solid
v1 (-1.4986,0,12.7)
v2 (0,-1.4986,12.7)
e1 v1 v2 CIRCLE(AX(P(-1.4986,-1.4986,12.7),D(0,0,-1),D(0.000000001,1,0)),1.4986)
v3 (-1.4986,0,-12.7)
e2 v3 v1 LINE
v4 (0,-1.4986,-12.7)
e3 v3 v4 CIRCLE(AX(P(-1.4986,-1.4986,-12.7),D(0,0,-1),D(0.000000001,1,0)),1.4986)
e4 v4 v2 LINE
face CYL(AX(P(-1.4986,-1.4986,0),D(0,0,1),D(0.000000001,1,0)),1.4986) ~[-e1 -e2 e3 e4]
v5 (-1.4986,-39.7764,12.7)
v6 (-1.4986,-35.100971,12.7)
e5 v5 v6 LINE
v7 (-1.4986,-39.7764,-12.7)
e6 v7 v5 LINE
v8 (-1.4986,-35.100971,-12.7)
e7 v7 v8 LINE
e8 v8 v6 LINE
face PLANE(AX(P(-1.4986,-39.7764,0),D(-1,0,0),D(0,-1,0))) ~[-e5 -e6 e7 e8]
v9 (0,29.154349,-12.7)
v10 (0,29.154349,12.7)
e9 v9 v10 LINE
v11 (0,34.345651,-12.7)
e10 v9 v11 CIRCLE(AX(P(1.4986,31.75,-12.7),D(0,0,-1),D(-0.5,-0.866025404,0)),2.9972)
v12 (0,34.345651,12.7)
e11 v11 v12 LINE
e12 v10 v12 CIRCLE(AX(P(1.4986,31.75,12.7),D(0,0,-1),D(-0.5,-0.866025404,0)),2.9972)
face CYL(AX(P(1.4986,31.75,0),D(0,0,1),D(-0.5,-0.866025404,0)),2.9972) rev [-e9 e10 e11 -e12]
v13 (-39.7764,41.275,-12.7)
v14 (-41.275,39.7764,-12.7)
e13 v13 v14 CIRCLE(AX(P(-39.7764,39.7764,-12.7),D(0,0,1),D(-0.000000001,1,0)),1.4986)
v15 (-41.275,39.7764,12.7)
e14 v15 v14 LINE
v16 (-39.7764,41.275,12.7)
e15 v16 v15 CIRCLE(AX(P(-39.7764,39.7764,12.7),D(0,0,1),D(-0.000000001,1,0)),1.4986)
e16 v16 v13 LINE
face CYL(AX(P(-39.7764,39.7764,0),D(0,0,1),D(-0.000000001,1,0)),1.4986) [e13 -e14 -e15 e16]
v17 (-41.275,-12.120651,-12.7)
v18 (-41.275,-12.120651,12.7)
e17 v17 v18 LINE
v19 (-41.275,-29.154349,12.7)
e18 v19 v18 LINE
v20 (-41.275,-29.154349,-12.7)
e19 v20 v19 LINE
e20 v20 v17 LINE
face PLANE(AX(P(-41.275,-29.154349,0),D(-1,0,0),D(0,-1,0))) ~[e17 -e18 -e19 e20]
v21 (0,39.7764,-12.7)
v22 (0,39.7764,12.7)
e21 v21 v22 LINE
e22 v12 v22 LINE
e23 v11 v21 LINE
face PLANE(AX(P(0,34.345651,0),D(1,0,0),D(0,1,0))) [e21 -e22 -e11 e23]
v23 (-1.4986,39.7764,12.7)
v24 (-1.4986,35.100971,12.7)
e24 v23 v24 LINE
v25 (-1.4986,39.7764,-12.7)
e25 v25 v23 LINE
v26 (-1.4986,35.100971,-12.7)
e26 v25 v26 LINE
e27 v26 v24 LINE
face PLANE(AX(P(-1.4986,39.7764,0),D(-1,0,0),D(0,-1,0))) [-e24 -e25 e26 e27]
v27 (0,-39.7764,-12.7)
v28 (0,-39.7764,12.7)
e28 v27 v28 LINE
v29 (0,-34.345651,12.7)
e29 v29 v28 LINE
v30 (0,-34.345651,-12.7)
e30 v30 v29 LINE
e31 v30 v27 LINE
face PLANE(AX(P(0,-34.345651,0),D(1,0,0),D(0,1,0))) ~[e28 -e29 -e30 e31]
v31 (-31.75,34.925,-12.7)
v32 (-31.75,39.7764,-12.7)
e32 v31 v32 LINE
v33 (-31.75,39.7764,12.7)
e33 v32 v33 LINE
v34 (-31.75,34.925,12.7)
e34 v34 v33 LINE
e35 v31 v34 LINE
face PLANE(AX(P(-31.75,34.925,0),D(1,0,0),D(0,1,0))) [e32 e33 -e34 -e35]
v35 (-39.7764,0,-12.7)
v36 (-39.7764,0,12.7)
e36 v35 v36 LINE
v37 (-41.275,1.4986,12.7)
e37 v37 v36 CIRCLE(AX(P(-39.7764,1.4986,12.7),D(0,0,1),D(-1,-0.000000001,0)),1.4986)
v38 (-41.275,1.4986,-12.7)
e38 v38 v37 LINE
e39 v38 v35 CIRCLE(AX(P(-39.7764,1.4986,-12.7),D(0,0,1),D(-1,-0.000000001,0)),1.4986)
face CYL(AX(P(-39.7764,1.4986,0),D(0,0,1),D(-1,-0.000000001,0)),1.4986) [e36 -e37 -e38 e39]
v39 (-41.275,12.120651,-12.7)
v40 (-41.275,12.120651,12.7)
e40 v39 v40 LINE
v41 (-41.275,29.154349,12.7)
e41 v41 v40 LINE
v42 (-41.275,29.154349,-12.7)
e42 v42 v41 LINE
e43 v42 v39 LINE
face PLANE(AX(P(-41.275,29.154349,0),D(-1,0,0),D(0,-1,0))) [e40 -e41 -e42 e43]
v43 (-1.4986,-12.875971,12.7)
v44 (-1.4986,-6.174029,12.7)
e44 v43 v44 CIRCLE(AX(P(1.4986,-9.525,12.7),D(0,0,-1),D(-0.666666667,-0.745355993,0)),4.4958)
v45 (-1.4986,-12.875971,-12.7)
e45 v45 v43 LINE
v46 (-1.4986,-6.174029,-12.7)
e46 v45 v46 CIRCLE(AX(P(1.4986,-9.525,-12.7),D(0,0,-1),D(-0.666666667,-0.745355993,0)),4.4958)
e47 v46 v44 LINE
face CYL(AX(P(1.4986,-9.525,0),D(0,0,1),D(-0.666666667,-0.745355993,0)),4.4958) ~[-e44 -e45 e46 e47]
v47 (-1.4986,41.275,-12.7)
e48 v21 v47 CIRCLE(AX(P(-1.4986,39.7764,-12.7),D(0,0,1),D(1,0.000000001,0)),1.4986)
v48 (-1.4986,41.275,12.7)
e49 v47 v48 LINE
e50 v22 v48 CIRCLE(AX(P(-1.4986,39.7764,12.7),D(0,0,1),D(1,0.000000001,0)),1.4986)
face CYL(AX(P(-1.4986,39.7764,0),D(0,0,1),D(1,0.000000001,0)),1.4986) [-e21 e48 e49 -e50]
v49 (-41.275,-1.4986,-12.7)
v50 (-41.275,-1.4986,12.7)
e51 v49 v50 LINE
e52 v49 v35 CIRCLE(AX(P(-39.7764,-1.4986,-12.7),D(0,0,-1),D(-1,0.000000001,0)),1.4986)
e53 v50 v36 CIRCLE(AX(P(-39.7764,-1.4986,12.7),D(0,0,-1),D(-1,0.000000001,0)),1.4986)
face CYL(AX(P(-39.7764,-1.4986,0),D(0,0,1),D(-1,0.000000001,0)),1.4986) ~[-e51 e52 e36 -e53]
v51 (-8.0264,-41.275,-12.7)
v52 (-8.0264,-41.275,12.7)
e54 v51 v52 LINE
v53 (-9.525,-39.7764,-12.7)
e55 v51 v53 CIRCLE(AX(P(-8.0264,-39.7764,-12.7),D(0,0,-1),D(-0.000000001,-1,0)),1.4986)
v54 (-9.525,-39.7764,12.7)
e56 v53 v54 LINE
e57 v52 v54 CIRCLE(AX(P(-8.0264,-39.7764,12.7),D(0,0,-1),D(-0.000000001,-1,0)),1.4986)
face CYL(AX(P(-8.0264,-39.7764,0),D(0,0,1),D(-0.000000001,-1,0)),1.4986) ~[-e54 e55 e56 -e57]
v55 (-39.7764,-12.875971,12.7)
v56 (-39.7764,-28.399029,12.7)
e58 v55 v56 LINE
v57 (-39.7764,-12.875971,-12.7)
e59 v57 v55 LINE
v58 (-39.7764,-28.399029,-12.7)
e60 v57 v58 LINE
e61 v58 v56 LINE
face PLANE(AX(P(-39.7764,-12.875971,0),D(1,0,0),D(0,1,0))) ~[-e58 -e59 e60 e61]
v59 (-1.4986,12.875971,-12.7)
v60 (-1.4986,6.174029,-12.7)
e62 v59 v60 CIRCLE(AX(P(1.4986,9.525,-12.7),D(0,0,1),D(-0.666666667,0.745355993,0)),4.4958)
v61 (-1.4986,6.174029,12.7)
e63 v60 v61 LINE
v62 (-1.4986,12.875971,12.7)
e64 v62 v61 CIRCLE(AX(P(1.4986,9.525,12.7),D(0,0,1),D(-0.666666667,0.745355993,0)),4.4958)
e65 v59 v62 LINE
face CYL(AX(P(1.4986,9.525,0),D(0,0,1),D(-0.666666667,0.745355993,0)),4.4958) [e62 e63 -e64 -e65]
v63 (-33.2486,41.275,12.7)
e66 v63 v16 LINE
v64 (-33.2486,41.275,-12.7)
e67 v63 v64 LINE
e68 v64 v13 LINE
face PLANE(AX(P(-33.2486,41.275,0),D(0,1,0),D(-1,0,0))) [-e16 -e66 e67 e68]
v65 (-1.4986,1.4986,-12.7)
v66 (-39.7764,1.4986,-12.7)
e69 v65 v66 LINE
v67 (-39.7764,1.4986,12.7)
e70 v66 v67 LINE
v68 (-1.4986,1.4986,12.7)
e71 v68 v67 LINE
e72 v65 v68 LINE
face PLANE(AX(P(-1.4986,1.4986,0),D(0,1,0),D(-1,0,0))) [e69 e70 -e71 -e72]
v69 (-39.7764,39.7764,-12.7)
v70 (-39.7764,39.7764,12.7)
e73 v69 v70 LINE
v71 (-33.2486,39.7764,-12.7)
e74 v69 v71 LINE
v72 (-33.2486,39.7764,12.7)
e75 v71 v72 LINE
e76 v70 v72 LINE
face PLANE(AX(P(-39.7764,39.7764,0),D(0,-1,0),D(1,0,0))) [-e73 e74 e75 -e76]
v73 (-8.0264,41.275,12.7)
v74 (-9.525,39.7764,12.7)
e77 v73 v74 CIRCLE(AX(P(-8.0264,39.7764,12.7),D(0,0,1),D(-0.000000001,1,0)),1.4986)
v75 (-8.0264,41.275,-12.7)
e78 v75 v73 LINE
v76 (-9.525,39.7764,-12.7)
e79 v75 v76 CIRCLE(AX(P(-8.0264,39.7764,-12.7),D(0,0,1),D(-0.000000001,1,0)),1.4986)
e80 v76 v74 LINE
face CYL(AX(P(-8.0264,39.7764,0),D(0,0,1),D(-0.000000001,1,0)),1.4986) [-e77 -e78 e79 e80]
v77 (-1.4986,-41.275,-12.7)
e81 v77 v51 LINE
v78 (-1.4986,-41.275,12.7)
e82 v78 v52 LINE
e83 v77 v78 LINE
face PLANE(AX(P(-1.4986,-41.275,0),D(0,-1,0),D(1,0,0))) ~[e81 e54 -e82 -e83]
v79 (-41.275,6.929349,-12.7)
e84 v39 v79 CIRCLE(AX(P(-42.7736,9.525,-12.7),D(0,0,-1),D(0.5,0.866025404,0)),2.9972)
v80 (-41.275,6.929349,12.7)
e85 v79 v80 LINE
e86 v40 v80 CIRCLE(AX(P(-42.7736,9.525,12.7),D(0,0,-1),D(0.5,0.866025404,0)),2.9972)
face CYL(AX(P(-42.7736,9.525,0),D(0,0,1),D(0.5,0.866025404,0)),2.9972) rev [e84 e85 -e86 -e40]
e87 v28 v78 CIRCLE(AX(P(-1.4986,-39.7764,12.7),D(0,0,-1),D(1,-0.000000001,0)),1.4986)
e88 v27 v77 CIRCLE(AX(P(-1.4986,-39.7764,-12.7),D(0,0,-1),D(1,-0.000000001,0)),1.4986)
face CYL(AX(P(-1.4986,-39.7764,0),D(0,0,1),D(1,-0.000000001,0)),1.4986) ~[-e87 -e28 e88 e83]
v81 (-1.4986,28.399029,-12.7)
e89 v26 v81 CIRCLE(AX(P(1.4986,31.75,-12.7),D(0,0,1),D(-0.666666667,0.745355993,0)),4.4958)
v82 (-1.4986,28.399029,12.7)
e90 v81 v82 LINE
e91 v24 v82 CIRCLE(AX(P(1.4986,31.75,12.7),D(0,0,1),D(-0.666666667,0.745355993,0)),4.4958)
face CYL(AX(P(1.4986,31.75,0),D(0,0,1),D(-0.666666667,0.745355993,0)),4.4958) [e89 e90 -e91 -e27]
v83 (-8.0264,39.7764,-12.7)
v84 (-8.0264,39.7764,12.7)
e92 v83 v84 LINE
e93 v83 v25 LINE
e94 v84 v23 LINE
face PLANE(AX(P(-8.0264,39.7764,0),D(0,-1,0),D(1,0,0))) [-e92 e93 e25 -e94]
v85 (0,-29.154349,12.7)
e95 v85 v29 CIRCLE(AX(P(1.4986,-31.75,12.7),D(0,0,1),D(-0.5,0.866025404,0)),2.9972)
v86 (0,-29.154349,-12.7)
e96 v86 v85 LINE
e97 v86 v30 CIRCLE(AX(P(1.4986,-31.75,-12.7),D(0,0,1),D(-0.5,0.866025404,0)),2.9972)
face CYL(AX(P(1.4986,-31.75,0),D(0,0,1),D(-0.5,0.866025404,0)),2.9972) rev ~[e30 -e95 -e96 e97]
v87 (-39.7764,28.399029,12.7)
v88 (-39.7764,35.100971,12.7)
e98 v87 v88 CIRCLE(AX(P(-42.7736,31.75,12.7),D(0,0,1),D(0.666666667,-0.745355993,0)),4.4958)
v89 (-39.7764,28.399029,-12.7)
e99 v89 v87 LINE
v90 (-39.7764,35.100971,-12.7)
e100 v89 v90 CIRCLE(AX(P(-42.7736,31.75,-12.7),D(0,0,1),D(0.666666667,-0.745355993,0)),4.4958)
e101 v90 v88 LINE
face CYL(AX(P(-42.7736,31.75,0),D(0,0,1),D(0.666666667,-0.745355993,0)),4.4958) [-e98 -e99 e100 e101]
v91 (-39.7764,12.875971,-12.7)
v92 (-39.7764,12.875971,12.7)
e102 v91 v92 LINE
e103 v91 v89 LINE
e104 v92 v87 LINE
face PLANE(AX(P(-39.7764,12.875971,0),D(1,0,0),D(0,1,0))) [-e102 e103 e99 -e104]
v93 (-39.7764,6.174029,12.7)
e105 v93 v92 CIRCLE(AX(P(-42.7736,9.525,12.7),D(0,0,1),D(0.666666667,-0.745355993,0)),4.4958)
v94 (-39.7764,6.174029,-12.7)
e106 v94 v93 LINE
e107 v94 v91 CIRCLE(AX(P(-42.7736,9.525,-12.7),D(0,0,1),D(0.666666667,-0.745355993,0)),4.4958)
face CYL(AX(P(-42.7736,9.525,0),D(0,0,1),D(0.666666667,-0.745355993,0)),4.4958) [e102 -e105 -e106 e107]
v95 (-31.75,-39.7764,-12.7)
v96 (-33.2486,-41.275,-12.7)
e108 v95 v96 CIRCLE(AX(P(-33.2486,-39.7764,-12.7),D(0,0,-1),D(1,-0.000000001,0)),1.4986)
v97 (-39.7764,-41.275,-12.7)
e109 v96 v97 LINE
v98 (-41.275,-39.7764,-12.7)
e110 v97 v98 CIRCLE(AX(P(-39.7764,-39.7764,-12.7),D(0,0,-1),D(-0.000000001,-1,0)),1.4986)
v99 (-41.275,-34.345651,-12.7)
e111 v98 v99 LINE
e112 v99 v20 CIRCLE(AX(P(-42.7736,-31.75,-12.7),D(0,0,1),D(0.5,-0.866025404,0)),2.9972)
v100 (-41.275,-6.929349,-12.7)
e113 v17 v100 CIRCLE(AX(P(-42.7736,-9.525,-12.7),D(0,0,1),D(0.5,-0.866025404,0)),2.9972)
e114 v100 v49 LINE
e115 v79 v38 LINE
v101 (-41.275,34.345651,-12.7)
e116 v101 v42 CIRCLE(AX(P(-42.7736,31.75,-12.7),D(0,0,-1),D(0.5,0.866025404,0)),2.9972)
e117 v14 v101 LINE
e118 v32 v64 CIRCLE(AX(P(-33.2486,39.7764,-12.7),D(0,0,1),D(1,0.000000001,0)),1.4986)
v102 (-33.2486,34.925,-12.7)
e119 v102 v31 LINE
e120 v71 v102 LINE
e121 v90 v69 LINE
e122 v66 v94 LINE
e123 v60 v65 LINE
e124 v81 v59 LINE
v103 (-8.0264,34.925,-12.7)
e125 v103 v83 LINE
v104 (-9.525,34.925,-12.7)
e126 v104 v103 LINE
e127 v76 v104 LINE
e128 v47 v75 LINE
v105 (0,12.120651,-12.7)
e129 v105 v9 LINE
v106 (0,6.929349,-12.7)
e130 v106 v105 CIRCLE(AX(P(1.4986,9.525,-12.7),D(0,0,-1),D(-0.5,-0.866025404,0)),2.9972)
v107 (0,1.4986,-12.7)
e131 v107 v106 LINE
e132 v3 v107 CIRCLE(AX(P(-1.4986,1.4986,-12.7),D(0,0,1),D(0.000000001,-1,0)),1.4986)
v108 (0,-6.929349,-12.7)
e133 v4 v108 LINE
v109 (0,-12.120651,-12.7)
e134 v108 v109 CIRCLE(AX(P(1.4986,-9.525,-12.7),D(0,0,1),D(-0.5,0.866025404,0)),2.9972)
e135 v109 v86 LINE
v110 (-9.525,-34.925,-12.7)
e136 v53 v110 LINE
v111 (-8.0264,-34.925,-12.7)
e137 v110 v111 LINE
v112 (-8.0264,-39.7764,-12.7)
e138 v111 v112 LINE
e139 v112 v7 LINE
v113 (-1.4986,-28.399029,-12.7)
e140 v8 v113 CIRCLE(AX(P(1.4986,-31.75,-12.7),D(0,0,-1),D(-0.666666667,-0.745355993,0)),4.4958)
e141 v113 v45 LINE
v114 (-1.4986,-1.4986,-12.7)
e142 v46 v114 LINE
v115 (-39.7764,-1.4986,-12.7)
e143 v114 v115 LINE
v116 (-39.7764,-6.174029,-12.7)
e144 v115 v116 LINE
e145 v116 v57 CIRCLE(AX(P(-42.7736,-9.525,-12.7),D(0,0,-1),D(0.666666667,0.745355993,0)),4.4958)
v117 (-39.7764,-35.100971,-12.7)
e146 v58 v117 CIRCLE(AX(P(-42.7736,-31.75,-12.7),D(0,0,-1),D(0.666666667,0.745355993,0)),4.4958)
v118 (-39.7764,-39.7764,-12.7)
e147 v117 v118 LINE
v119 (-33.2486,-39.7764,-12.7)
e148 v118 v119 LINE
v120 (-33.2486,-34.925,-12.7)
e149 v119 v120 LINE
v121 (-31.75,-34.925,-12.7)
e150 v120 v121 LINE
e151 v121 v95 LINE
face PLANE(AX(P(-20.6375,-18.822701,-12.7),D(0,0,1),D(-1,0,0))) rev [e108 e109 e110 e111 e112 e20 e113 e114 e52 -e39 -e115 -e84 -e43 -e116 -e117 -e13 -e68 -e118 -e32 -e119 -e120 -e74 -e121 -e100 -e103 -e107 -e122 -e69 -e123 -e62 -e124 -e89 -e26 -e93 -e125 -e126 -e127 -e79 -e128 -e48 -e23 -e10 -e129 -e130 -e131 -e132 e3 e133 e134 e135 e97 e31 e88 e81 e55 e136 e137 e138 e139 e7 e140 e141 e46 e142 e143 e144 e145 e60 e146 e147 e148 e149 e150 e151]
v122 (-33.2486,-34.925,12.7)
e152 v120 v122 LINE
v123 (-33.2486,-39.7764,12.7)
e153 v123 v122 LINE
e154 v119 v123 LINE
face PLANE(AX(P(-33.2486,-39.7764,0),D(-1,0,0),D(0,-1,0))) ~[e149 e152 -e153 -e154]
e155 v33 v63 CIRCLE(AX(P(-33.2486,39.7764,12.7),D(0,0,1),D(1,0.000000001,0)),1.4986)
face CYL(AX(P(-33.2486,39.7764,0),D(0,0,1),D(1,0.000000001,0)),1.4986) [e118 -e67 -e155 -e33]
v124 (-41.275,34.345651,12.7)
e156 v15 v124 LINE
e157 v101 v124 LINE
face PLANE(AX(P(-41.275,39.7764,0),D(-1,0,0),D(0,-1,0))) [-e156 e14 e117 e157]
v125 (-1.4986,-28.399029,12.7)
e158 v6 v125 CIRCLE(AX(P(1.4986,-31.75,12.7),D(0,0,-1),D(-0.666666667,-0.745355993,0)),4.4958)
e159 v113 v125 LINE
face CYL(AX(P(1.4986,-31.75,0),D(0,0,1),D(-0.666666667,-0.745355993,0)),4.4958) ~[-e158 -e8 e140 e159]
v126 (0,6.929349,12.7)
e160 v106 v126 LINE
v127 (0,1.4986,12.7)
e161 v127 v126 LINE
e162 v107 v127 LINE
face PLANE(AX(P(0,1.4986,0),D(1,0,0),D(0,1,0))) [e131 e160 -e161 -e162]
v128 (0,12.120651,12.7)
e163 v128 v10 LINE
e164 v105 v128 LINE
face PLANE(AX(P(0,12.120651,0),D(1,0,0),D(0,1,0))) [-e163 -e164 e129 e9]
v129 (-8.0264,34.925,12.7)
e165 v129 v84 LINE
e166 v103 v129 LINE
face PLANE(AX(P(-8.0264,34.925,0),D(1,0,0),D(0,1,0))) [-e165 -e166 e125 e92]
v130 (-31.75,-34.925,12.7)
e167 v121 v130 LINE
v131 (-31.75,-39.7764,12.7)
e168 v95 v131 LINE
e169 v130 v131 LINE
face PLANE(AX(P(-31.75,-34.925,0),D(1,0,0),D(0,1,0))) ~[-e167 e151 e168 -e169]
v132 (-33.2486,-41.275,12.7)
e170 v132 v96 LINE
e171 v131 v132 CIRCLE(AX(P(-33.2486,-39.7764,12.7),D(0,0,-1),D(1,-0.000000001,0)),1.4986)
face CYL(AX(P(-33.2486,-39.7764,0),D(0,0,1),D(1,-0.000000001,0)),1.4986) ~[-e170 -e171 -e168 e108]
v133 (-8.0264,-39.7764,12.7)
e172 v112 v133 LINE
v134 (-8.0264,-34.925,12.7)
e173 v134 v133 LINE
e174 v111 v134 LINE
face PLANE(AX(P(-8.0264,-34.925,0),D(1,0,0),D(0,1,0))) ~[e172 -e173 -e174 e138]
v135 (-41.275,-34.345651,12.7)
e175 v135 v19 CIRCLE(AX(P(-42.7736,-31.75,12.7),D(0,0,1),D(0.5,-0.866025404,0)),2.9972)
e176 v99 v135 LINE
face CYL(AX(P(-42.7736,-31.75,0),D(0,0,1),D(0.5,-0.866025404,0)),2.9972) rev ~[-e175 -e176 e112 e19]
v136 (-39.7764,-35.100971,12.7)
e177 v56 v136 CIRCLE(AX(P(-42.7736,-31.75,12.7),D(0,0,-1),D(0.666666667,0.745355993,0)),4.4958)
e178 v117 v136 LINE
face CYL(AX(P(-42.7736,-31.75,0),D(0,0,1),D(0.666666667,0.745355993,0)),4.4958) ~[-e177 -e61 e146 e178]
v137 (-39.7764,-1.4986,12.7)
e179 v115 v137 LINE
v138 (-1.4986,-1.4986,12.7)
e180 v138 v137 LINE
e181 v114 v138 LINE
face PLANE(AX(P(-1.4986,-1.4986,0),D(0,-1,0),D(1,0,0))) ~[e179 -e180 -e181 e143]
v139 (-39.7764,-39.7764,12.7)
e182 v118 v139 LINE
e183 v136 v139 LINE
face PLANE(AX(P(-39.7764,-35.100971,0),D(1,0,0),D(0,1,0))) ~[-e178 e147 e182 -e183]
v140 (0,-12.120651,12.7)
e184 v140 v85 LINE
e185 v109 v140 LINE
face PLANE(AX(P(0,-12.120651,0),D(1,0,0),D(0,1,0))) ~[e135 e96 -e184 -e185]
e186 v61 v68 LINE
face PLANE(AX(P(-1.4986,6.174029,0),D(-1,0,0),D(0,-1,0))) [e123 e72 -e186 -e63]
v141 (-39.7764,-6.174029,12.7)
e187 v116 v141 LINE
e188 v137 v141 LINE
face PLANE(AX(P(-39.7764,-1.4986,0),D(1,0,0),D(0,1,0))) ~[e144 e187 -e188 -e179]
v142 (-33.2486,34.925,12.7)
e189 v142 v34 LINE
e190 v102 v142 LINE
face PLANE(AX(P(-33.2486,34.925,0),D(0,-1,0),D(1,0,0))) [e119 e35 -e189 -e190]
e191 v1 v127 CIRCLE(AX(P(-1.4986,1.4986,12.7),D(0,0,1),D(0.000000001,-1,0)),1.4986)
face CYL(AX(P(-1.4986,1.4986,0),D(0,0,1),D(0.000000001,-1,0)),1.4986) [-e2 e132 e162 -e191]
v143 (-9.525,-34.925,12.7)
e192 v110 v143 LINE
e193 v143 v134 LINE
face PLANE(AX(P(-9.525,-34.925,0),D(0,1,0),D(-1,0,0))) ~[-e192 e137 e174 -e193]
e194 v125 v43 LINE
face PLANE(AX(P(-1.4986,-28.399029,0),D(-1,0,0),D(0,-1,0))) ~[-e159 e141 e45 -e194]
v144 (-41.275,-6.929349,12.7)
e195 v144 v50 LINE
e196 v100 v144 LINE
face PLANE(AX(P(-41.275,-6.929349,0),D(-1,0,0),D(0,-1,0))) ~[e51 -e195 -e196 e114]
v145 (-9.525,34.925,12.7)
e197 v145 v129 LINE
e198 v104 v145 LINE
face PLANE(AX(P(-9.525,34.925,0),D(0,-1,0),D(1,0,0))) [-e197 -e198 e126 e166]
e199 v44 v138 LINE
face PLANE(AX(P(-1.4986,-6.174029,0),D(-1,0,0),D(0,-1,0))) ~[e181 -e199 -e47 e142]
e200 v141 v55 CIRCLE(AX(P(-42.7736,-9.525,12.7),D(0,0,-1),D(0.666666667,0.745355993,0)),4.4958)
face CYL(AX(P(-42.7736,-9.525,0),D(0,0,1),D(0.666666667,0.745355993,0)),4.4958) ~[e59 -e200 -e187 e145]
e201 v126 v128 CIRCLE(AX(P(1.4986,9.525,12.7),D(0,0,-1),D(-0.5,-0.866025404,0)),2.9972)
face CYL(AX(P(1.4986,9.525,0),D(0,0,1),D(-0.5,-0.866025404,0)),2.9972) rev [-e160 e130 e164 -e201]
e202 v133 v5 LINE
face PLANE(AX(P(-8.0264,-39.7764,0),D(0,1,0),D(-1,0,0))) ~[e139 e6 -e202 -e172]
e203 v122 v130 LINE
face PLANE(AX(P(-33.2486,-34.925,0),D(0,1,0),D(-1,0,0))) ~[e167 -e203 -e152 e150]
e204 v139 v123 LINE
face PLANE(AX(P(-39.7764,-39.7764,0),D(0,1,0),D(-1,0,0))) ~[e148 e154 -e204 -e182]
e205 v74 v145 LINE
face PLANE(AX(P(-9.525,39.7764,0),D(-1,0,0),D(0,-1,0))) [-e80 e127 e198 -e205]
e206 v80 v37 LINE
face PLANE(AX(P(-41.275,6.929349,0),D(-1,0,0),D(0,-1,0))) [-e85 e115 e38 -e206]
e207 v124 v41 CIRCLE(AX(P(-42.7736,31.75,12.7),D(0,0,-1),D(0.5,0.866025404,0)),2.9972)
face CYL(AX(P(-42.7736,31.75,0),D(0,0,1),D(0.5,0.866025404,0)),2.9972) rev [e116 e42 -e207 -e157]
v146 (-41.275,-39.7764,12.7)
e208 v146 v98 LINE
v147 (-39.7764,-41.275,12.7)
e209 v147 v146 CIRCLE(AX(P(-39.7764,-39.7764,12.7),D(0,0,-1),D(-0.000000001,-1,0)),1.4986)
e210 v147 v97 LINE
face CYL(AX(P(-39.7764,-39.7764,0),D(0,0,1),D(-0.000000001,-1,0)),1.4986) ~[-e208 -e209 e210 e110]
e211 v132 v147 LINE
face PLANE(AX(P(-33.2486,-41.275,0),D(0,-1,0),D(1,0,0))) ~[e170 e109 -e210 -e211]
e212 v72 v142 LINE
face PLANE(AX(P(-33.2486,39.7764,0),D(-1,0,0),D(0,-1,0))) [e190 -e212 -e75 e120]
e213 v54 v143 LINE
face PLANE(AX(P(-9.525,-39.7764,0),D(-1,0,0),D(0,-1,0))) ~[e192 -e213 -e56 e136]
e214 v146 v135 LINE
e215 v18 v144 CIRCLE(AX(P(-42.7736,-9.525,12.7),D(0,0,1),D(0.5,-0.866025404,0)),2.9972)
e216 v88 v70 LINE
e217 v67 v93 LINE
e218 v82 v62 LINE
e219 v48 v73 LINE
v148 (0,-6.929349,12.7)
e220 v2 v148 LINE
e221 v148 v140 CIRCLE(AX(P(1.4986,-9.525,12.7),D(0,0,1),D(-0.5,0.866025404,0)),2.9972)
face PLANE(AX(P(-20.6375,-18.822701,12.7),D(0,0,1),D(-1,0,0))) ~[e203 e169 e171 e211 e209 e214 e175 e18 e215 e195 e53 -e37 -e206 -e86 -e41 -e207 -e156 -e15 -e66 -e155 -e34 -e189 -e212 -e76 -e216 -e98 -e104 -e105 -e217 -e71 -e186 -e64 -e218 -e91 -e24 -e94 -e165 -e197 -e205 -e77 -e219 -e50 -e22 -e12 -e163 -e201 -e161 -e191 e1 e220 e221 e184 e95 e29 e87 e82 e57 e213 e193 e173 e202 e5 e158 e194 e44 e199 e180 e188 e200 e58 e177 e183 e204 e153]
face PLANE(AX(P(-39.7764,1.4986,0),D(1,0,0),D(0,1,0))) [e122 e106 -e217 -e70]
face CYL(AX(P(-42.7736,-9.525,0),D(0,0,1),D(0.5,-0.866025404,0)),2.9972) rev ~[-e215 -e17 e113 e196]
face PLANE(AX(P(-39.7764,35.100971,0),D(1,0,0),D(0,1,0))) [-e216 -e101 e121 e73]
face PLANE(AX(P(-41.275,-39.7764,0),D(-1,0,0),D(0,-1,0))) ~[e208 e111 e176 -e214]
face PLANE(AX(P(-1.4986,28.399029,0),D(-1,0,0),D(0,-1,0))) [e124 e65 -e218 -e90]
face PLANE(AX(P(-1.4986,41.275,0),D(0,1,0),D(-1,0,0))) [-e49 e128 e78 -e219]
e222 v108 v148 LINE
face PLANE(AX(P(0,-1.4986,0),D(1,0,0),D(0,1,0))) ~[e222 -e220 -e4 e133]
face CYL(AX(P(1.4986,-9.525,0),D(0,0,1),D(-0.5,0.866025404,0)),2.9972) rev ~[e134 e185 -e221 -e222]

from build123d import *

# Parameters (mm, degrees)
BASE_EXTRUDE_DEPTH = 12.7


with BuildPart() as part:
    # Sketch1 → Base-Extrude (new, symmetric)
    with BuildSketch(Plane.XY):
        with BuildLine():
            Line((-41.275, 39.7764), (-41.275, 34.34565134))
            ThreePointArc((-41.275, 34.34565134), (-39.7764, 31.75), (-41.275, 29.15434866))
            Line((-41.275, 29.15434866), (-41.275, 12.12065134))
            ThreePointArc((-41.275, 12.12065134), (-39.7764, 9.525), (-41.275, 6.92934866))
            Line((-41.275, 6.92934866), (-41.275, 1.4986))
            ThreePointArc((-41.275, 1.4986), (-40.836070222, 0.438929778), (-39.7764, 0))
            Line((-39.7764, 0), (-1.4986, 0))
            ThreePointArc((-1.4986, 0), (-0.438929778, 0.438929778), (0, 1.4986))
            Line((0, 1.4986), (0, 6.92934866))
            ThreePointArc((0, 6.92934866), (-1.4986, 9.525), (0, 12.12065134))
            Line((0, 12.12065134), (0, 29.15434866))
            ThreePointArc((0, 29.15434866), (-1.4986, 31.75), (0, 34.34565134))
            Line((0, 34.34565134), (0, 39.7764))
            ThreePointArc((0, 39.7764), (-0.438929778, 40.836070222), (-1.4986, 41.275))
            Line((-1.4986, 41.275), (-8.0264, 41.275))
            ThreePointArc((-8.0264, 41.275), (-9.086070222, 40.836070222), (-9.525, 39.7764))
            Line((-9.525, 39.7764), (-9.525, 34.925))
            Line((-9.525, 34.925), (-8.0264, 34.925))
            Line((-8.0264, 34.925), (-8.0264, 39.7764))
            Line((-8.0264, 39.7764), (-1.4986, 39.7764))
            Line((-1.4986, 39.7764), (-1.4986, 35.100971471))
            ThreePointArc((-1.4986, 35.100971471), (-2.9972, 31.75), (-1.4986, 28.399028529))
            Line((-1.4986, 28.399028529), (-1.4986, 12.875971471))
            ThreePointArc((-1.4986, 12.875971471), (-2.9972, 9.525), (-1.4986, 6.174028529))
            Line((-1.4986, 6.174028529), (-1.4986, 1.4986))
            Line((-1.4986, 1.4986), (-39.7764, 1.4986))
            Line((-39.7764, 1.4986), (-39.7764, 6.174028529))
            ThreePointArc((-39.7764, 6.174028529), (-38.2778, 9.525), (-39.7764, 12.875971471))
            Line((-39.7764, 12.875971471), (-39.7764, 28.399028529))
            ThreePointArc((-39.7764, 28.399028529), (-38.2778, 31.75), (-39.7764, 35.100971471))
            Line((-39.7764, 35.100971471), (-39.7764, 39.7764))
            Line((-39.7764, 39.7764), (-33.2486, 39.7764))
            Line((-33.2486, 39.7764), (-33.2486, 34.925))
            Line((-33.2486, 34.925), (-31.75, 34.925))
            Line((-31.75, 34.925), (-31.75, 39.7764))
            ThreePointArc((-31.75, 39.7764), (-32.188929778, 40.836070222), (-33.2486, 41.275))
            Line((-33.2486, 41.275), (-39.7764, 41.275))
            ThreePointArc((-39.7764, 41.275), (-40.836070222, 40.836070222), (-41.275, 39.7764))
        make_face()
    base_extrude = extrude(amount=BASE_EXTRUDE_DEPTH, both=True)

    # Mirror1: Base-Extrude across plane
    add(base_extrude.mirror(Plane.ZX))


solid = part.part
